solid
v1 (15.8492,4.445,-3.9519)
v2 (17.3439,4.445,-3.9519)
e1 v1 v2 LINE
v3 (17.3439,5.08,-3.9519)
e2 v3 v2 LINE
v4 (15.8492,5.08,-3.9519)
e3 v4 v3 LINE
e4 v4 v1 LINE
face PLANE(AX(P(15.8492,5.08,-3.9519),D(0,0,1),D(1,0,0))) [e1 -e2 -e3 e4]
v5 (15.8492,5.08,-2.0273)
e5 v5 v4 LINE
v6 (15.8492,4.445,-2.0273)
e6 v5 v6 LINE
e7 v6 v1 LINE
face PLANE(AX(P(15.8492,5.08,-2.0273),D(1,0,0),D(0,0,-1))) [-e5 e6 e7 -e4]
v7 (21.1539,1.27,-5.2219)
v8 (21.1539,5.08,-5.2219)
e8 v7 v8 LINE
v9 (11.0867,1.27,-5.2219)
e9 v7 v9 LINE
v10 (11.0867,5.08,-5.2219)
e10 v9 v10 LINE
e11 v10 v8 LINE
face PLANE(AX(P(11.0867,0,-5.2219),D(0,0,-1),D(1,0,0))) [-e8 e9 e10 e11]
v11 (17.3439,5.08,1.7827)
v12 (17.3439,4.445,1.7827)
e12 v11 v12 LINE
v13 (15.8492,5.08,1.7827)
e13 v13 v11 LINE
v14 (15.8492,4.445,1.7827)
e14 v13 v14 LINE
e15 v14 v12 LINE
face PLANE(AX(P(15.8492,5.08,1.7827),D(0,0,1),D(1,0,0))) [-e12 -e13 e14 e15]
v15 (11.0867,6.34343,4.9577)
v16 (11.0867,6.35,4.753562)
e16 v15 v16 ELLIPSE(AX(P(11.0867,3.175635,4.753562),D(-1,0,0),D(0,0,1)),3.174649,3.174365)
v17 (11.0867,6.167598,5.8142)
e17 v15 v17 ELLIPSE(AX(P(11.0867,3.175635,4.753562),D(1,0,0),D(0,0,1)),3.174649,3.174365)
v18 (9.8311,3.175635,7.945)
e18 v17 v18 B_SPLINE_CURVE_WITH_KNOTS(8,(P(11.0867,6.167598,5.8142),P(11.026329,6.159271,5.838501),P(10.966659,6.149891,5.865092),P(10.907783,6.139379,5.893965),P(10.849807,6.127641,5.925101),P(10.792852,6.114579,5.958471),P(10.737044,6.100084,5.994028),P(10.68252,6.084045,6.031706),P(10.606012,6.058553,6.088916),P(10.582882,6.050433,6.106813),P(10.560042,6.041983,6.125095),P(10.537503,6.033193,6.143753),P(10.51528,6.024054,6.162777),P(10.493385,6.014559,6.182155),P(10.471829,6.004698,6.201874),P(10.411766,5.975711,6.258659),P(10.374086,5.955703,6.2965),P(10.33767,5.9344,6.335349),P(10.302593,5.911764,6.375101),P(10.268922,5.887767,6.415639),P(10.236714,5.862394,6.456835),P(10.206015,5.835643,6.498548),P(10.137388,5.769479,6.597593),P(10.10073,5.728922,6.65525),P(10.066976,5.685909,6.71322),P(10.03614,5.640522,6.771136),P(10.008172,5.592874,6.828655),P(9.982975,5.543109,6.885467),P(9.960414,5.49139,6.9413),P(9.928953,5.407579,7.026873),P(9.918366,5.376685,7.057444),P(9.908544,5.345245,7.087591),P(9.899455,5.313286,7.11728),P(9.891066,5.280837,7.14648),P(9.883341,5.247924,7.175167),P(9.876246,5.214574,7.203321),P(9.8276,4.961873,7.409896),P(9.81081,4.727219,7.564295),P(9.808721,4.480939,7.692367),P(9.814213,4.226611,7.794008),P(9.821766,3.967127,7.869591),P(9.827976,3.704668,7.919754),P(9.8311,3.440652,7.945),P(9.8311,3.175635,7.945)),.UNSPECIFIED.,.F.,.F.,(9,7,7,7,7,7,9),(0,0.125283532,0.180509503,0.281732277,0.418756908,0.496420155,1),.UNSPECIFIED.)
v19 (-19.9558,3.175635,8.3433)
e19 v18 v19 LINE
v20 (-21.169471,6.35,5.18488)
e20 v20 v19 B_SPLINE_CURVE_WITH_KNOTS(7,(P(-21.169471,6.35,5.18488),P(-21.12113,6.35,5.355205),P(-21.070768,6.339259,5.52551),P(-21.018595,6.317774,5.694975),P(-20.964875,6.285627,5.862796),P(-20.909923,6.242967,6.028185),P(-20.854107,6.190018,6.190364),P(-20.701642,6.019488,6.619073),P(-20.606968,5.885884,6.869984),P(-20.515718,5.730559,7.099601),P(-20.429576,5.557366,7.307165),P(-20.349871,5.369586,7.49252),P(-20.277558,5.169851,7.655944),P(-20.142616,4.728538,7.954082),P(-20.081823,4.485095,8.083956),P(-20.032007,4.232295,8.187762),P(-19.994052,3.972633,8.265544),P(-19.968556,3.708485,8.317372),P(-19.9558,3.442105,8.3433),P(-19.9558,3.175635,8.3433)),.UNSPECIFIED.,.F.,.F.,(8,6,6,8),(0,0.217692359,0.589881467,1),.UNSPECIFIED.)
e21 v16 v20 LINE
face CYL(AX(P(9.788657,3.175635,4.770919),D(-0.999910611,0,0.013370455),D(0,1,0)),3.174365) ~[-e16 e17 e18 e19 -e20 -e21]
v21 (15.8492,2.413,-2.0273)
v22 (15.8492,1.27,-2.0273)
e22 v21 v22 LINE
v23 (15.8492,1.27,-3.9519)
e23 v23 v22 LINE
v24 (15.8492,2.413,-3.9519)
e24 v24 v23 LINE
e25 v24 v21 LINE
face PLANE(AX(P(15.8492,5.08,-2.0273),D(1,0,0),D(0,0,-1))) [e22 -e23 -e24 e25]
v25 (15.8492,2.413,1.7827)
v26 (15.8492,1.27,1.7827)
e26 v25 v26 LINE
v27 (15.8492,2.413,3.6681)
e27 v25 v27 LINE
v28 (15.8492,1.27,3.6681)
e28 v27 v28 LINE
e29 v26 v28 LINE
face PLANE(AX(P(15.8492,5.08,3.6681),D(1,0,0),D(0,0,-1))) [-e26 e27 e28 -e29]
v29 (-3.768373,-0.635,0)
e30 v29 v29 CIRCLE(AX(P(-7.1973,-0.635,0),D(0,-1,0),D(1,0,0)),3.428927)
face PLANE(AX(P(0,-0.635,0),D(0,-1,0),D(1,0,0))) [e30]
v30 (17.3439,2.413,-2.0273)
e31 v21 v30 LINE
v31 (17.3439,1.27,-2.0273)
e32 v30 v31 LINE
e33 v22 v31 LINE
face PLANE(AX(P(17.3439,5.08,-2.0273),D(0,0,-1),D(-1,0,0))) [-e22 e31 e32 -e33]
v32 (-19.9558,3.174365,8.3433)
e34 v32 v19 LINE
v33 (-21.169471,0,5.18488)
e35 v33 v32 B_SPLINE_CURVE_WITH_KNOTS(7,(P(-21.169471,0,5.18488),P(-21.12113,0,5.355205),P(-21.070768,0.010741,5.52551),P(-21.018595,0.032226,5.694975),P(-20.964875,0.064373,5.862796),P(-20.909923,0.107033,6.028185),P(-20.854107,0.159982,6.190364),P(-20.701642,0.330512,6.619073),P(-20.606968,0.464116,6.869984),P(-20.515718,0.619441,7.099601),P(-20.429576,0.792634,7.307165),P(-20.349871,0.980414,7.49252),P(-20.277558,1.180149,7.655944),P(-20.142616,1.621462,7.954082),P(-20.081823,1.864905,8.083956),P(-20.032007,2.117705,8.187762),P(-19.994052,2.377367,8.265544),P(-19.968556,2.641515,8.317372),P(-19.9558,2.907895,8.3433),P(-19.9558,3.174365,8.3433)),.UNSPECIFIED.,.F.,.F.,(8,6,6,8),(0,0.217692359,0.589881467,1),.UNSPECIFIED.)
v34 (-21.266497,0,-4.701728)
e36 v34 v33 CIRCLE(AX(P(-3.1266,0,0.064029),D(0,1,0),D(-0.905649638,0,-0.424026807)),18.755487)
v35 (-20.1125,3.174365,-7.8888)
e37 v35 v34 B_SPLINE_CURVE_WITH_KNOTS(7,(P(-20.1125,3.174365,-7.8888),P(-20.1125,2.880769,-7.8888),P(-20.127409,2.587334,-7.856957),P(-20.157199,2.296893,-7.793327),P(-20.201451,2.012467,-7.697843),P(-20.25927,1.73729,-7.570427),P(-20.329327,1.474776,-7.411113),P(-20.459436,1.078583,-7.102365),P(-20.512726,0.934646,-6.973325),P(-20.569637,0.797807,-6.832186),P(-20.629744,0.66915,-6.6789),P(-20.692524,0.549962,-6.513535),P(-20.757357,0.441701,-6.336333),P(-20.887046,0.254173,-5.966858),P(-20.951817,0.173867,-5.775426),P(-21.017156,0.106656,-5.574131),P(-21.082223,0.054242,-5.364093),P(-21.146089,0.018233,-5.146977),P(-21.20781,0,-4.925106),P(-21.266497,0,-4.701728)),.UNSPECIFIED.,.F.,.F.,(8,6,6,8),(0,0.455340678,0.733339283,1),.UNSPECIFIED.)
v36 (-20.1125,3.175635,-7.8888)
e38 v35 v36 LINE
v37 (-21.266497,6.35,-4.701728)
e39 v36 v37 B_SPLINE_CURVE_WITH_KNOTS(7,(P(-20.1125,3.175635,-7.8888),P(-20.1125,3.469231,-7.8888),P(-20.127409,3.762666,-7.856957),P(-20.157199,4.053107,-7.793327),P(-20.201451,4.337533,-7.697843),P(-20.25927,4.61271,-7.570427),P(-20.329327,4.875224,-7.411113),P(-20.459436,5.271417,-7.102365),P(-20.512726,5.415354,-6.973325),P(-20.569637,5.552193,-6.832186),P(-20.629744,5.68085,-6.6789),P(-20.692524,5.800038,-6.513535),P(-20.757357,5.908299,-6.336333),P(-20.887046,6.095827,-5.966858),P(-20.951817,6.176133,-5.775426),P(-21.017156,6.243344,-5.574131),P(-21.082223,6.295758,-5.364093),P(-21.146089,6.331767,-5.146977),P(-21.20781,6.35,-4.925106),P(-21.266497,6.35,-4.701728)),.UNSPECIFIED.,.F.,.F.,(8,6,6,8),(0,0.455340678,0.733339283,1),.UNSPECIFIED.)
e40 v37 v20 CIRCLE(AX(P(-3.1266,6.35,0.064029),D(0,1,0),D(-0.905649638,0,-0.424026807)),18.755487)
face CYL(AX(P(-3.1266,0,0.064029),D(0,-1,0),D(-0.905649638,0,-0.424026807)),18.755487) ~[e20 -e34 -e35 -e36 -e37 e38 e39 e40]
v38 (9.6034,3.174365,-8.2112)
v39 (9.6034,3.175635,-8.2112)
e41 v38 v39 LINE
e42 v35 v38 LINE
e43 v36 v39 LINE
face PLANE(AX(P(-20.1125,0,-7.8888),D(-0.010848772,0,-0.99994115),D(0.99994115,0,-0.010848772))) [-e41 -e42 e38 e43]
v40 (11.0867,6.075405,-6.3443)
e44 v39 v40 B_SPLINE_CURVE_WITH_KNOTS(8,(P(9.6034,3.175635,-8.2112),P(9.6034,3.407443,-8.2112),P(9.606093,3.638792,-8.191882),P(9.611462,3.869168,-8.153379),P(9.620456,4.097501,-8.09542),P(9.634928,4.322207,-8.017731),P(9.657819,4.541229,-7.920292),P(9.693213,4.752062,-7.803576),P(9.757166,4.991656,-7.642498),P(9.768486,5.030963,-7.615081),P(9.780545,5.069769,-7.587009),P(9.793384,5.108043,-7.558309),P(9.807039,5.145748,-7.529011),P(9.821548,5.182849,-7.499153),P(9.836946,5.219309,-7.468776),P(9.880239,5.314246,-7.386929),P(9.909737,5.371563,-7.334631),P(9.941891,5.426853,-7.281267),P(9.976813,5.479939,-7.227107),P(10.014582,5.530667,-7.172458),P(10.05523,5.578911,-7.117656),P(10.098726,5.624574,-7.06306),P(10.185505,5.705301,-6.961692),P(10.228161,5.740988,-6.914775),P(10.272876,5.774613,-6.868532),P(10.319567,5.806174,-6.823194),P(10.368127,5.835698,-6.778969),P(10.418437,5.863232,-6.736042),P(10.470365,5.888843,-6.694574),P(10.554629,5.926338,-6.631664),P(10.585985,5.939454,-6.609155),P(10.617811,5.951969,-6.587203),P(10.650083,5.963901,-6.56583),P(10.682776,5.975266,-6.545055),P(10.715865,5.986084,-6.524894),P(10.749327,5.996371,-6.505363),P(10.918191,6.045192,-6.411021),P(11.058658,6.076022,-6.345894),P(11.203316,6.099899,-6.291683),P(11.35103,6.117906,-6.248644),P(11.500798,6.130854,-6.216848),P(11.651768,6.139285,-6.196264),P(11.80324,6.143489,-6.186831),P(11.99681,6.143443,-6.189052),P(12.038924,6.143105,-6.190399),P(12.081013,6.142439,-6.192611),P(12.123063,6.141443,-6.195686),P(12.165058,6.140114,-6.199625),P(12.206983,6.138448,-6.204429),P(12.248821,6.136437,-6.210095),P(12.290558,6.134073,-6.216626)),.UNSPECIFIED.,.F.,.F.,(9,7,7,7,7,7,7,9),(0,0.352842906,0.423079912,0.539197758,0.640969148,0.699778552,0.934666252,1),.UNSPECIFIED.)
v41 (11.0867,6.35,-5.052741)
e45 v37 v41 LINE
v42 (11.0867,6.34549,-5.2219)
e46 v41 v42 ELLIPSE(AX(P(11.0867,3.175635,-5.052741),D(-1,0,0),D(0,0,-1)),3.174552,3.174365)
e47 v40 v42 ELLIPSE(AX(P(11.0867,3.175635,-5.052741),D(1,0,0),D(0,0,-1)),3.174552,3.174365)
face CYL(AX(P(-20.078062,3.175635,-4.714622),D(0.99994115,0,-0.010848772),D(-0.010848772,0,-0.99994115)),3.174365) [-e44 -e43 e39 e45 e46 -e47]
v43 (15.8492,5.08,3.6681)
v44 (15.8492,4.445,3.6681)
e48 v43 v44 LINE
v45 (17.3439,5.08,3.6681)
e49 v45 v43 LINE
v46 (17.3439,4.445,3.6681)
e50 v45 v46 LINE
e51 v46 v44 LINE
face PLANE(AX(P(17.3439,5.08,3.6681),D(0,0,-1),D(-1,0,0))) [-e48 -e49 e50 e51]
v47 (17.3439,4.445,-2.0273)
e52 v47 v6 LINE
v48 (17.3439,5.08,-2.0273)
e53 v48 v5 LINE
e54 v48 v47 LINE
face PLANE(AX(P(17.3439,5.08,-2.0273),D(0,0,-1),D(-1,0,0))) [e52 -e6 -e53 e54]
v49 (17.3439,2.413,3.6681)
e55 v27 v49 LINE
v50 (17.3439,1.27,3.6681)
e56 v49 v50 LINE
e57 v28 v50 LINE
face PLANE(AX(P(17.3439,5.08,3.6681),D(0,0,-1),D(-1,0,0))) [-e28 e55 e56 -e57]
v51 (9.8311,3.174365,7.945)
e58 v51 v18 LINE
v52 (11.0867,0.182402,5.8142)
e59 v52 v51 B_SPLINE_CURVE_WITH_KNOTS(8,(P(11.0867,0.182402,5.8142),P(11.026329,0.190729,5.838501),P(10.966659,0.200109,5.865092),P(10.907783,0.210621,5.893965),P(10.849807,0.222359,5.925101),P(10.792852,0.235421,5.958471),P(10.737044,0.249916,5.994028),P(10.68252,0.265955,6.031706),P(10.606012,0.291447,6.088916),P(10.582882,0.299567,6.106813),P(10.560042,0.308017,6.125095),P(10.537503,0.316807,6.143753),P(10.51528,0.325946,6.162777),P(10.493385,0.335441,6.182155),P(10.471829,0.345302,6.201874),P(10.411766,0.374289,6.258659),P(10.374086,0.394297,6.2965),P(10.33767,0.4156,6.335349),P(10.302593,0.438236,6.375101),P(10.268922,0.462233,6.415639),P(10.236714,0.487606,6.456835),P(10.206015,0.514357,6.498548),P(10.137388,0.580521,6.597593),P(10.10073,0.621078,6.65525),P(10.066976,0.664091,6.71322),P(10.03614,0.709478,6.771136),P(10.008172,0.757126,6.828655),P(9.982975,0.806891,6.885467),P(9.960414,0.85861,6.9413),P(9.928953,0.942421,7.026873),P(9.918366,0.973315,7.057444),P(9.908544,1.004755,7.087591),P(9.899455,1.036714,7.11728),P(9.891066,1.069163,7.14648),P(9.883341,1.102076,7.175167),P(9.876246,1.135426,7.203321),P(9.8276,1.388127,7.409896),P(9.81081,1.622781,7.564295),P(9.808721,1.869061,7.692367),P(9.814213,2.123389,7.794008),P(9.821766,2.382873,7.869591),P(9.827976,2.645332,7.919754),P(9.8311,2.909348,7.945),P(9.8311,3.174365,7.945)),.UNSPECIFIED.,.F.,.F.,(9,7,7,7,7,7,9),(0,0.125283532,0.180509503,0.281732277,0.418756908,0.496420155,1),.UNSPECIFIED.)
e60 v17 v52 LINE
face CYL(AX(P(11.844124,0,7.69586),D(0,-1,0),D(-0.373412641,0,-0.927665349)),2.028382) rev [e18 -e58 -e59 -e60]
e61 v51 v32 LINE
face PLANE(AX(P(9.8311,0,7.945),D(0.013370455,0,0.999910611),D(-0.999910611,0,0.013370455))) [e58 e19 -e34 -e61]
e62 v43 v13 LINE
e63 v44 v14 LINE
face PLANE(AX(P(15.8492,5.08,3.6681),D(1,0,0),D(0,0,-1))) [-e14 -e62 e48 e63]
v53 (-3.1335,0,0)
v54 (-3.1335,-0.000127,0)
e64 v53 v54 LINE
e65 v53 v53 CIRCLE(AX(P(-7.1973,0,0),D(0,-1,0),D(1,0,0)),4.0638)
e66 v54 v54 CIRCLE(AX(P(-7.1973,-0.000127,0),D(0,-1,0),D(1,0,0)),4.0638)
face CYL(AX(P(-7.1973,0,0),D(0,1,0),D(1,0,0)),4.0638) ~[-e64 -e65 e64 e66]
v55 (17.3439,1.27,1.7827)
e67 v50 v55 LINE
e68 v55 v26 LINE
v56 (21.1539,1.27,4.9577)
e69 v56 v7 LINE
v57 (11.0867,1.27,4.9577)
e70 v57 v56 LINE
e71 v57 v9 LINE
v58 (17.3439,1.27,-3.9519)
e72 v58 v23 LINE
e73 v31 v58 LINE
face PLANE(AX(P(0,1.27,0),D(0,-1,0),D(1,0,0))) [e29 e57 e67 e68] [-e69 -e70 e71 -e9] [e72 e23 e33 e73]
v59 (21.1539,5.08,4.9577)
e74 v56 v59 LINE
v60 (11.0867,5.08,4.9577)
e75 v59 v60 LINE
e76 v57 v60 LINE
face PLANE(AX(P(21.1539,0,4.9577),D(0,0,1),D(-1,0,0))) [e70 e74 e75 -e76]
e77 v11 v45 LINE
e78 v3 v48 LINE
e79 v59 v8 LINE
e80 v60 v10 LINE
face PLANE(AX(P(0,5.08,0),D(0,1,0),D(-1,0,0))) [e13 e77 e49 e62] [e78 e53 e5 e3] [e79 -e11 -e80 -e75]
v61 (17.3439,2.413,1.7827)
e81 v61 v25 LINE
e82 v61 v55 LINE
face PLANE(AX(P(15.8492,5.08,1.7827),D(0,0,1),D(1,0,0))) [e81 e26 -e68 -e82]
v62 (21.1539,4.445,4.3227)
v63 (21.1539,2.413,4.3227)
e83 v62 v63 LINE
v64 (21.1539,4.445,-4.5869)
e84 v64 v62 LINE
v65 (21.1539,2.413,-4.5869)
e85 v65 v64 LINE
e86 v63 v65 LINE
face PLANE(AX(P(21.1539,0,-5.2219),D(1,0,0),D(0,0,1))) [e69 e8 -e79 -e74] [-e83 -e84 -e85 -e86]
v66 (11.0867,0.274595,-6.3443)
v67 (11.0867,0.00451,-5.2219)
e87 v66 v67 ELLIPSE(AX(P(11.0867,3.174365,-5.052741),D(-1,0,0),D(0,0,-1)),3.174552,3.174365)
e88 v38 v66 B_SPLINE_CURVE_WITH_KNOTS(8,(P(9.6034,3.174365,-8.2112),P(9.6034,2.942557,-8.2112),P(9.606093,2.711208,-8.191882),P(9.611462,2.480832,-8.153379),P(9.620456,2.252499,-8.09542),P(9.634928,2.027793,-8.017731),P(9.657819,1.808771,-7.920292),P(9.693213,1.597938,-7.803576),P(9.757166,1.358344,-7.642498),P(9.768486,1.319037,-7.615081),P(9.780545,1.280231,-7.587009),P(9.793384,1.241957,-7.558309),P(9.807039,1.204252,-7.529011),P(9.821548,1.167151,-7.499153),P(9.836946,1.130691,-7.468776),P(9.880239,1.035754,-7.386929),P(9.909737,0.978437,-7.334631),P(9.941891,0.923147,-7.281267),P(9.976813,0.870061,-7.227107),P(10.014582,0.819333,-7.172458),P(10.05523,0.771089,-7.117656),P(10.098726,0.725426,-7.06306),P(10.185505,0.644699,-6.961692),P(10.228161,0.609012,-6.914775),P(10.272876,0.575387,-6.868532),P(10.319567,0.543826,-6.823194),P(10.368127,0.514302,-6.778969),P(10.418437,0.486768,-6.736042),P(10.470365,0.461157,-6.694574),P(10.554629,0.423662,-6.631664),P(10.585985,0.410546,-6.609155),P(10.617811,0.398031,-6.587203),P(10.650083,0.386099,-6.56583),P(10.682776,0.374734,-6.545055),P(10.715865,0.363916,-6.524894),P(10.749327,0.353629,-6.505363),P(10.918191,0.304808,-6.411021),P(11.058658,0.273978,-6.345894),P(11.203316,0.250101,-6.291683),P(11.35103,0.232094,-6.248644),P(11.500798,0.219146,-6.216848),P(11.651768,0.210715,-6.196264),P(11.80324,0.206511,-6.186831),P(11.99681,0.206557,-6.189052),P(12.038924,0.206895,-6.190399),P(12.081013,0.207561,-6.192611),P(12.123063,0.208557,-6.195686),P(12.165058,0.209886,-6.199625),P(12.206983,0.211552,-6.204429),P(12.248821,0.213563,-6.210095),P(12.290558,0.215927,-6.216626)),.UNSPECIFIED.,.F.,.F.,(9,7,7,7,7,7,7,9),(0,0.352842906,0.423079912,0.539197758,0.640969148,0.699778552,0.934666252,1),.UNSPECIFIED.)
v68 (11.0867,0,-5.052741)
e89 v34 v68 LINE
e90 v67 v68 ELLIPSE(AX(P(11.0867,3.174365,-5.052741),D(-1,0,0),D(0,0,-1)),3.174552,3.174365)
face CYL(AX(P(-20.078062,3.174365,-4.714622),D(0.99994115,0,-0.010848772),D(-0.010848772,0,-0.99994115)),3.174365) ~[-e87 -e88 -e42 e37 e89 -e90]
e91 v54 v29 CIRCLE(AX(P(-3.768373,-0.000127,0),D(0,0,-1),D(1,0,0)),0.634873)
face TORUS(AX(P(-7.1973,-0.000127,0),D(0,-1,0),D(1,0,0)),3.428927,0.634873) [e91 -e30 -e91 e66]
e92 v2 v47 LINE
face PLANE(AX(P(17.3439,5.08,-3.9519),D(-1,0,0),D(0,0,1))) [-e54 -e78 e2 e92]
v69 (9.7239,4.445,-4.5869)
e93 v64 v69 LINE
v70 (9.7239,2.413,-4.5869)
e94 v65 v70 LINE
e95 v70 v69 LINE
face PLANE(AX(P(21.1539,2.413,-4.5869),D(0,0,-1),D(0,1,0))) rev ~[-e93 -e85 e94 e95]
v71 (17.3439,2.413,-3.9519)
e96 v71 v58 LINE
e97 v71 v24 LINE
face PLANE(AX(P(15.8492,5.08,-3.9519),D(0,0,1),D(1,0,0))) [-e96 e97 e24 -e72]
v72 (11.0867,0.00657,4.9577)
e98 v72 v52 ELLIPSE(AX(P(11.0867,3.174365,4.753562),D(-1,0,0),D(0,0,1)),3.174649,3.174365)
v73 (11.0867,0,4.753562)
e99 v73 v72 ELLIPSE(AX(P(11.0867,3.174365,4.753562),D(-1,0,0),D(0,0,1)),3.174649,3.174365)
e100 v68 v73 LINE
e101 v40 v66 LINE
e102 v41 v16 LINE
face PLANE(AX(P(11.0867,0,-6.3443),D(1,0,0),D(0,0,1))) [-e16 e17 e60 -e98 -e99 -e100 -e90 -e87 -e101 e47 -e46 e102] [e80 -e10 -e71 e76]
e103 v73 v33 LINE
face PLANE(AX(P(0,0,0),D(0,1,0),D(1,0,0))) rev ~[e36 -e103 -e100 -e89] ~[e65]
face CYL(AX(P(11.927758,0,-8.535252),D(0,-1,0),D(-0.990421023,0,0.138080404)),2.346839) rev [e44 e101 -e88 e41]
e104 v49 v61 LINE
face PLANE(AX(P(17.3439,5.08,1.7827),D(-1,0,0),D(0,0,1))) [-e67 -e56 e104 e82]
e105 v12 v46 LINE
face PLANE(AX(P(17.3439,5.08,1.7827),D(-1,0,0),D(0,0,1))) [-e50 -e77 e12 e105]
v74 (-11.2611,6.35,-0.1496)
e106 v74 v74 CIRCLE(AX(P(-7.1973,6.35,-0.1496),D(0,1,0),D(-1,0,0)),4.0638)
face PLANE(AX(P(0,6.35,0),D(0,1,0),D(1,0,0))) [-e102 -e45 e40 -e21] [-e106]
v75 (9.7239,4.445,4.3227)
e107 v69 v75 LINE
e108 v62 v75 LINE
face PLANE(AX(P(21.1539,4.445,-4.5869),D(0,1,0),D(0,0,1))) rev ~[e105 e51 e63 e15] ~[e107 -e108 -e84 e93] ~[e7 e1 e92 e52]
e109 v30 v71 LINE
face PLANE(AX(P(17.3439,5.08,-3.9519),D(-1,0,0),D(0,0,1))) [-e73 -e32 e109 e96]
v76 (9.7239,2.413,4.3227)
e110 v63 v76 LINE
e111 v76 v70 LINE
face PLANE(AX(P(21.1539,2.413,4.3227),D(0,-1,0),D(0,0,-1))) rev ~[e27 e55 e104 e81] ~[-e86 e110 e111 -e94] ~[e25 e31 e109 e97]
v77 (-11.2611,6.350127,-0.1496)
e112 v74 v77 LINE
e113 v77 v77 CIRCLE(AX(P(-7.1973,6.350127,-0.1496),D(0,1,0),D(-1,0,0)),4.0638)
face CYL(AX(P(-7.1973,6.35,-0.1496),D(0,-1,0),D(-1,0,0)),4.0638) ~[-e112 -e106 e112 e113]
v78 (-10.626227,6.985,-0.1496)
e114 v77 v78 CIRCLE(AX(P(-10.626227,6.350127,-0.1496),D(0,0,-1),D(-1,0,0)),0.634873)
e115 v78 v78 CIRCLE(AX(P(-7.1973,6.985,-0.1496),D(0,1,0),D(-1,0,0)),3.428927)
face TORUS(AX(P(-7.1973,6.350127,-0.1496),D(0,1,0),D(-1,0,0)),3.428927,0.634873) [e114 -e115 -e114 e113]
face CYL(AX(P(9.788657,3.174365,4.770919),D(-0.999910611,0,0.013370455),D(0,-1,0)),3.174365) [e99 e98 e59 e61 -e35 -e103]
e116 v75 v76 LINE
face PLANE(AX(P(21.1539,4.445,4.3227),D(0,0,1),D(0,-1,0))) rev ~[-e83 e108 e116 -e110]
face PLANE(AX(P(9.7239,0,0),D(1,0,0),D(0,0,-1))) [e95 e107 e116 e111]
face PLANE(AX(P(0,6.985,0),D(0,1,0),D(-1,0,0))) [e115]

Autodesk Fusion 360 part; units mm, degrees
sketch "MASTER SKETCH" plane through (0, 0, 0) normal (0, 1, 0) x (1, 0, 0)
  line L0 (-20.1125, 7.8888) -> (9.6034, 8.2112)
  arc A0 (9.6034, 8.2112) -> (11.0867, 6.3443) centre (11.9278, 8.5352) ccw
  line L1 (11.0867, 6.3443) -> (11.0867, 5.2219)
  line L2 (11.0867, 5.2219) -> (21.1539, 5.2219)
  line L3 (21.1539, 5.2219) -> (21.1539, -4.9577)
  line L4 (21.1539, -4.9577) -> (11.0867, -4.9577)
  line L5 (11.0867, -4.9577) -> (11.0867, -5.8142)
  arc A1 (11.0867, -5.8142) -> (9.8311, -7.945) centre (11.8441, -7.6959) ccw
  line L6 (9.8311, -7.945) -> (-19.9558, -8.3433)
  arc A2 (-20.1125, 7.8888) -> (-19.9558, -8.3433) centre (-3.1266, -0.064) ccw
  line L7 (15.1779, 3.7868) -> (16.7624, 3.7868)
  line L8 (16.7624, 3.7868) -> (16.7624, 1.8338)
  line L9 (16.7624, 1.8338) -> (15.1779, 1.8338)
  line L10 (15.1779, 1.8338) -> (15.1779, 3.7868)
  line L11 (15.1779, -1.2246) -> (16.7624, -1.2246)
  line L12 (16.7624, -1.2246) -> (16.7624, -3.2144)
  line L13 (16.7624, -3.2144) -> (15.1779, -3.2144)
  line L14 (15.1779, -3.2144) -> (15.1779, -1.2246)
  circle A3 centre (-7.2793, 0.4193) radius 4.0763
extrude "Extrude1" add sketch "MASTER SKETCH" along normal blind 6.35 contours L0 A0 L1 L2 L3 L4 L5 A1 L6 A2 | L7 L8 L9 L10 | L11 L12 L13 L14 | A3 in component "BODY"
fillet "Fillet1" radius 3.175 4 edges at (-5.0623, 6.35, 8.1442) (-5.2545, 6.35, -8.05) (-5.0623, 0, 8.1442) (-5.2545, 0, -8.05) in component "BODY"
sketch "Sketch1" plane through (0, 6.35, 0) normal (0, 1, 0) x (-1, 0, 0) in component "BODY"
  line L0 (-21.1539, -5.1613) -> (21.2666, -4.7011)
  arc A0 (21.2666, -4.7011) -> (21.1696, 5.1842) centre (3.1266, 0.064) ccw
  line L1 (21.1696, 5.1842) -> (-21.1539, 4.6184)
  line L2 (-21.1539, 4.6184) -> (-21.1539, -5.1613)
  line L3 (-11.0867, -6.3443) -> (-11.0867, 5.8142)
  line L4 (-11.0867, 5.8142) -> (-21.1539, 5.8142)
  line L5 (-21.1539, 5.8142) -> (-21.1539, -6.3443)
  line L6 (-21.1539, -6.3443) -> (-11.0867, -6.3443)
extrude "Extrude2" cut sketch "Sketch1" against normal blind 1.27 contours L0 L1 L2 L3 L5 | L0 L3 L5 L6 | L1 L3 L4 L5 in component "BODY"
sketch "Sketch2" plane through (0, 0, 0) normal (0, -1, 0) x (1, 0, 0) in component "BODY"
  line L0 (-21.2666, -4.7011) -> (21.1539, -5.1613)
  line L1 (21.1539, -5.1613) -> (21.1539, 4.6184)
  line L2 (21.1539, 4.6184) -> (-21.1696, 5.1842)
  arc A0 (-21.1696, 5.1842) -> (-21.2666, -4.7011) centre (-3.1266, 0.064) ccw
  line L3 (11.0867, 5.8142) -> (11.0867, -6.3443)
  line L4 (11.0867, -6.3443) -> (21.1539, -6.3443)
  line L5 (21.1539, -6.3443) -> (21.1539, 5.8142)
  line L6 (21.1539, 5.8142) -> (11.0867, 5.8142)
extrude "Extrude3" cut sketch "Sketch2" against normal blind 1.27 contours L0 L1 L2 L3 L5 | L0 L3 L4 L5 | L2 L3 L5 L6 in component "BODY"
sketch "Sketch3" plane through (0, 5.08, 0) normal (0, 1, 0) x (-1, 0, 0) in component "BODY"
  line L0 (-21.1539, -5.2219) -> (-11.0867, -5.2219)
  line L1 (-11.0867, -5.2219) -> (-11.0867, 4.9577)
  line L2 (-11.0867, 4.9577) -> (-21.1539, 4.9577)
  line L3 (-21.1539, 4.9577) -> (-21.1539, -5.2219)
  line L4 (-15.8492, -3.9519) -> (-17.3439, -3.9519)
  line L5 (-17.3439, -3.9519) -> (-17.3439, -2.0273)
  line L6 (-17.3439, -2.0273) -> (-15.8492, -2.0273)
  line L7 (-15.8492, -2.0273) -> (-15.8492, -3.9519)
  line L8 (-15.8492, 1.7827) -> (-17.3439, 1.7827)
  line L9 (-17.3439, 1.7827) -> (-17.3439, 3.6681)
  line L10 (-17.3439, 3.6681) -> (-15.8492, 3.6681)
  line L11 (-15.8492, 3.6681) -> (-15.8492, 1.7827)
  dimension "d8" = 3.81
  dimension "d9" = 7.62
  dimension "d10" = 4.7625
  dimension "d11" = 4.7625
  dimension "d12" = 3.81
  dimension "d13" = 3.81
  dimension "d14" = 3.81
  dimension "d15" = 1.27
  dimension "d16" = 6.985
sketch "Sketch4" plane through (21.1539, 0, 0) normal (1, 0, 0) x (0, 0, -1) in component "BODY"
  line L0 (-4.9577, 1.27) -> (5.2219, 1.27)
  line L1 (5.2219, 1.27) -> (5.2219, 5.08)
  line L2 (5.2219, 5.08) -> (-4.9577, 5.08)
  line L3 (-4.9577, 5.08) -> (-4.9577, 1.27)
  line L4 (-4.9577, 5.08) -> (-4.9577, 4.445)
  line L5 (-4.9577, 4.445) -> (-4.3227, 4.445)
  line L6 (5.2219, 5.08) -> (5.2219, 4.445)
  line L7 (5.2219, 4.445) -> (4.5869, 4.445)
  line L8 (4.5869, 4.445) -> (-4.3227, 4.445)
  line L9 (-4.3227, 4.445) -> (-4.3227, 2.413)
  line L10 (-4.3227, 2.413) -> (4.5869, 2.413)
  line L11 (4.5869, 2.413) -> (4.5869, 4.445)
  dimension "d17" = 0.635
  dimension "d18" = 0.635
  dimension "d19" = 0.635
  dimension "d20" = 0.635
  dimension "d21" = 2.032
extrude "Extrude4" cut sketch "Sketch4" against normal blind 11.43 contours L8 L9 L10 L11 in component "BODY"
sketch "Sketch5" plane through (0, 2.413, 0) normal (0, 1, 0) x (-1, 0, 0) in component "BODY"
extrude "Extrude5" cut sketch "Sketch3" against normal blind 1.778 contours L4 L5 L6 L7 | L8 L9 L10 L11 in component "BODY"
sketch "Sketch6" plane through (0, 6.35, 0) normal (0, 1, 0) x (-1, 0, 0) in component "BODY"
  line L0 (-11.0867, 4.753) -> (-11.0867, -5.0521)
  line L1 (-11.0867, -5.0521) -> (21.2666, -4.7011)
  arc A0 (21.2666, -4.7011) -> (21.1696, 5.1842) centre (3.1266, 0.064) ccw
  line L2 (21.1696, 5.1842) -> (-11.0867, 4.753)
  circle A1 centre (7.1973, -0.1496) radius 4.0638
extrude "Extrude6" add sketch "Sketch6" along normal blind 0.635 contours A1 in component "BODY"
sketch "Sketch7" plane through (0, 0, 0) normal (0, -1, 0) x (1, 0, 0) in component "BODY"
  line L0 (11.0867, -5.0521) -> (11.0867, 4.753)
  line L1 (11.0867, 4.753) -> (-21.1696, 5.1842)
  arc A0 (-21.1696, 5.1842) -> (-21.2666, -4.7011) centre (-3.1266, 0.064) ccw
  line L2 (-21.2666, -4.7011) -> (11.0867, -5.0521)
  circle A1 centre (-7.1973, 0) radius 4.0638
extrude "Extrude7" add sketch "Sketch7" along normal blind 0.635 contours A1 in component "BODY"
fillet "Fillet2" radius 0.635 2 edges at (-10.9861, -0.635, -1.4695) (-3.4085, 6.985, -1.6191) 1 faces at (-8.4257, -0.635, 1.6844) in component "BODY"
sketch "Sketch8" plane through (0, 5.08, 0) normal (0, 1, 0) x (-1, 0, 0) in component "BODY"
  line L0 (-17.3439, -3.9519) -> (-17.3439, -2.0273)
  line L1 (-17.3439, -2.0273) -> (-15.8492, -2.0273)
  line L2 (-15.8492, -2.0273) -> (-15.8492, -3.9519)
  line L3 (-15.8492, -3.9519) -> (-17.3439, -3.9519)
  line L4 (-17.3439, 1.7827) -> (-17.3439, 3.6681)
  line L5 (-17.3439, 3.6681) -> (-15.8492, 3.6681)
  line L6 (-15.8492, 3.6681) -> (-15.8492, 1.7827)
  line L7 (-15.8492, 1.7827) -> (-17.3439, 1.7827)
  line L8 (-21.1539, -5.2219) -> (-11.0867, -5.2219)
  line L9 (-11.0867, -5.2219) -> (-11.0867, 4.9577)
  line L10 (-11.0867, 4.9577) -> (-21.1539, 4.9577)
  line L11 (-21.1539, 4.9577) -> (-21.1539, -5.2219)
  line L12 (-15.8492, -3.9519) -> (-17.3439, -3.9519)
  line L13 (-17.3439, -3.9519) -> (-17.3439, -2.0273)
  line L14 (-17.3439, -2.0273) -> (-15.8492, -2.0273)
  line L15 (-15.8492, -2.0273) -> (-15.8492, -3.9519)
  line L16 (-15.8492, 1.7827) -> (-17.3439, 1.7827)
  line L17 (-17.3439, 1.7827) -> (-17.3439, 3.6681)
  line L18 (-17.3439, 3.6681) -> (-15.8492, 3.6681)
  line L19 (-15.8492, 3.6681) -> (-15.8492, 1.7827)
extrude "Extrude8" cut sketch "Sketch8" against normal blind 5.842 contours L0 L1 L2 L3 L12 L13 L14 L15 | L4 L5 L6 L7 L16 L17 L18 L19 in component "BODY"
component "BODY" placed x (1, 0, 0) y (0, 1, 0) z (0, 0, 1) at (0, 0, 0)
